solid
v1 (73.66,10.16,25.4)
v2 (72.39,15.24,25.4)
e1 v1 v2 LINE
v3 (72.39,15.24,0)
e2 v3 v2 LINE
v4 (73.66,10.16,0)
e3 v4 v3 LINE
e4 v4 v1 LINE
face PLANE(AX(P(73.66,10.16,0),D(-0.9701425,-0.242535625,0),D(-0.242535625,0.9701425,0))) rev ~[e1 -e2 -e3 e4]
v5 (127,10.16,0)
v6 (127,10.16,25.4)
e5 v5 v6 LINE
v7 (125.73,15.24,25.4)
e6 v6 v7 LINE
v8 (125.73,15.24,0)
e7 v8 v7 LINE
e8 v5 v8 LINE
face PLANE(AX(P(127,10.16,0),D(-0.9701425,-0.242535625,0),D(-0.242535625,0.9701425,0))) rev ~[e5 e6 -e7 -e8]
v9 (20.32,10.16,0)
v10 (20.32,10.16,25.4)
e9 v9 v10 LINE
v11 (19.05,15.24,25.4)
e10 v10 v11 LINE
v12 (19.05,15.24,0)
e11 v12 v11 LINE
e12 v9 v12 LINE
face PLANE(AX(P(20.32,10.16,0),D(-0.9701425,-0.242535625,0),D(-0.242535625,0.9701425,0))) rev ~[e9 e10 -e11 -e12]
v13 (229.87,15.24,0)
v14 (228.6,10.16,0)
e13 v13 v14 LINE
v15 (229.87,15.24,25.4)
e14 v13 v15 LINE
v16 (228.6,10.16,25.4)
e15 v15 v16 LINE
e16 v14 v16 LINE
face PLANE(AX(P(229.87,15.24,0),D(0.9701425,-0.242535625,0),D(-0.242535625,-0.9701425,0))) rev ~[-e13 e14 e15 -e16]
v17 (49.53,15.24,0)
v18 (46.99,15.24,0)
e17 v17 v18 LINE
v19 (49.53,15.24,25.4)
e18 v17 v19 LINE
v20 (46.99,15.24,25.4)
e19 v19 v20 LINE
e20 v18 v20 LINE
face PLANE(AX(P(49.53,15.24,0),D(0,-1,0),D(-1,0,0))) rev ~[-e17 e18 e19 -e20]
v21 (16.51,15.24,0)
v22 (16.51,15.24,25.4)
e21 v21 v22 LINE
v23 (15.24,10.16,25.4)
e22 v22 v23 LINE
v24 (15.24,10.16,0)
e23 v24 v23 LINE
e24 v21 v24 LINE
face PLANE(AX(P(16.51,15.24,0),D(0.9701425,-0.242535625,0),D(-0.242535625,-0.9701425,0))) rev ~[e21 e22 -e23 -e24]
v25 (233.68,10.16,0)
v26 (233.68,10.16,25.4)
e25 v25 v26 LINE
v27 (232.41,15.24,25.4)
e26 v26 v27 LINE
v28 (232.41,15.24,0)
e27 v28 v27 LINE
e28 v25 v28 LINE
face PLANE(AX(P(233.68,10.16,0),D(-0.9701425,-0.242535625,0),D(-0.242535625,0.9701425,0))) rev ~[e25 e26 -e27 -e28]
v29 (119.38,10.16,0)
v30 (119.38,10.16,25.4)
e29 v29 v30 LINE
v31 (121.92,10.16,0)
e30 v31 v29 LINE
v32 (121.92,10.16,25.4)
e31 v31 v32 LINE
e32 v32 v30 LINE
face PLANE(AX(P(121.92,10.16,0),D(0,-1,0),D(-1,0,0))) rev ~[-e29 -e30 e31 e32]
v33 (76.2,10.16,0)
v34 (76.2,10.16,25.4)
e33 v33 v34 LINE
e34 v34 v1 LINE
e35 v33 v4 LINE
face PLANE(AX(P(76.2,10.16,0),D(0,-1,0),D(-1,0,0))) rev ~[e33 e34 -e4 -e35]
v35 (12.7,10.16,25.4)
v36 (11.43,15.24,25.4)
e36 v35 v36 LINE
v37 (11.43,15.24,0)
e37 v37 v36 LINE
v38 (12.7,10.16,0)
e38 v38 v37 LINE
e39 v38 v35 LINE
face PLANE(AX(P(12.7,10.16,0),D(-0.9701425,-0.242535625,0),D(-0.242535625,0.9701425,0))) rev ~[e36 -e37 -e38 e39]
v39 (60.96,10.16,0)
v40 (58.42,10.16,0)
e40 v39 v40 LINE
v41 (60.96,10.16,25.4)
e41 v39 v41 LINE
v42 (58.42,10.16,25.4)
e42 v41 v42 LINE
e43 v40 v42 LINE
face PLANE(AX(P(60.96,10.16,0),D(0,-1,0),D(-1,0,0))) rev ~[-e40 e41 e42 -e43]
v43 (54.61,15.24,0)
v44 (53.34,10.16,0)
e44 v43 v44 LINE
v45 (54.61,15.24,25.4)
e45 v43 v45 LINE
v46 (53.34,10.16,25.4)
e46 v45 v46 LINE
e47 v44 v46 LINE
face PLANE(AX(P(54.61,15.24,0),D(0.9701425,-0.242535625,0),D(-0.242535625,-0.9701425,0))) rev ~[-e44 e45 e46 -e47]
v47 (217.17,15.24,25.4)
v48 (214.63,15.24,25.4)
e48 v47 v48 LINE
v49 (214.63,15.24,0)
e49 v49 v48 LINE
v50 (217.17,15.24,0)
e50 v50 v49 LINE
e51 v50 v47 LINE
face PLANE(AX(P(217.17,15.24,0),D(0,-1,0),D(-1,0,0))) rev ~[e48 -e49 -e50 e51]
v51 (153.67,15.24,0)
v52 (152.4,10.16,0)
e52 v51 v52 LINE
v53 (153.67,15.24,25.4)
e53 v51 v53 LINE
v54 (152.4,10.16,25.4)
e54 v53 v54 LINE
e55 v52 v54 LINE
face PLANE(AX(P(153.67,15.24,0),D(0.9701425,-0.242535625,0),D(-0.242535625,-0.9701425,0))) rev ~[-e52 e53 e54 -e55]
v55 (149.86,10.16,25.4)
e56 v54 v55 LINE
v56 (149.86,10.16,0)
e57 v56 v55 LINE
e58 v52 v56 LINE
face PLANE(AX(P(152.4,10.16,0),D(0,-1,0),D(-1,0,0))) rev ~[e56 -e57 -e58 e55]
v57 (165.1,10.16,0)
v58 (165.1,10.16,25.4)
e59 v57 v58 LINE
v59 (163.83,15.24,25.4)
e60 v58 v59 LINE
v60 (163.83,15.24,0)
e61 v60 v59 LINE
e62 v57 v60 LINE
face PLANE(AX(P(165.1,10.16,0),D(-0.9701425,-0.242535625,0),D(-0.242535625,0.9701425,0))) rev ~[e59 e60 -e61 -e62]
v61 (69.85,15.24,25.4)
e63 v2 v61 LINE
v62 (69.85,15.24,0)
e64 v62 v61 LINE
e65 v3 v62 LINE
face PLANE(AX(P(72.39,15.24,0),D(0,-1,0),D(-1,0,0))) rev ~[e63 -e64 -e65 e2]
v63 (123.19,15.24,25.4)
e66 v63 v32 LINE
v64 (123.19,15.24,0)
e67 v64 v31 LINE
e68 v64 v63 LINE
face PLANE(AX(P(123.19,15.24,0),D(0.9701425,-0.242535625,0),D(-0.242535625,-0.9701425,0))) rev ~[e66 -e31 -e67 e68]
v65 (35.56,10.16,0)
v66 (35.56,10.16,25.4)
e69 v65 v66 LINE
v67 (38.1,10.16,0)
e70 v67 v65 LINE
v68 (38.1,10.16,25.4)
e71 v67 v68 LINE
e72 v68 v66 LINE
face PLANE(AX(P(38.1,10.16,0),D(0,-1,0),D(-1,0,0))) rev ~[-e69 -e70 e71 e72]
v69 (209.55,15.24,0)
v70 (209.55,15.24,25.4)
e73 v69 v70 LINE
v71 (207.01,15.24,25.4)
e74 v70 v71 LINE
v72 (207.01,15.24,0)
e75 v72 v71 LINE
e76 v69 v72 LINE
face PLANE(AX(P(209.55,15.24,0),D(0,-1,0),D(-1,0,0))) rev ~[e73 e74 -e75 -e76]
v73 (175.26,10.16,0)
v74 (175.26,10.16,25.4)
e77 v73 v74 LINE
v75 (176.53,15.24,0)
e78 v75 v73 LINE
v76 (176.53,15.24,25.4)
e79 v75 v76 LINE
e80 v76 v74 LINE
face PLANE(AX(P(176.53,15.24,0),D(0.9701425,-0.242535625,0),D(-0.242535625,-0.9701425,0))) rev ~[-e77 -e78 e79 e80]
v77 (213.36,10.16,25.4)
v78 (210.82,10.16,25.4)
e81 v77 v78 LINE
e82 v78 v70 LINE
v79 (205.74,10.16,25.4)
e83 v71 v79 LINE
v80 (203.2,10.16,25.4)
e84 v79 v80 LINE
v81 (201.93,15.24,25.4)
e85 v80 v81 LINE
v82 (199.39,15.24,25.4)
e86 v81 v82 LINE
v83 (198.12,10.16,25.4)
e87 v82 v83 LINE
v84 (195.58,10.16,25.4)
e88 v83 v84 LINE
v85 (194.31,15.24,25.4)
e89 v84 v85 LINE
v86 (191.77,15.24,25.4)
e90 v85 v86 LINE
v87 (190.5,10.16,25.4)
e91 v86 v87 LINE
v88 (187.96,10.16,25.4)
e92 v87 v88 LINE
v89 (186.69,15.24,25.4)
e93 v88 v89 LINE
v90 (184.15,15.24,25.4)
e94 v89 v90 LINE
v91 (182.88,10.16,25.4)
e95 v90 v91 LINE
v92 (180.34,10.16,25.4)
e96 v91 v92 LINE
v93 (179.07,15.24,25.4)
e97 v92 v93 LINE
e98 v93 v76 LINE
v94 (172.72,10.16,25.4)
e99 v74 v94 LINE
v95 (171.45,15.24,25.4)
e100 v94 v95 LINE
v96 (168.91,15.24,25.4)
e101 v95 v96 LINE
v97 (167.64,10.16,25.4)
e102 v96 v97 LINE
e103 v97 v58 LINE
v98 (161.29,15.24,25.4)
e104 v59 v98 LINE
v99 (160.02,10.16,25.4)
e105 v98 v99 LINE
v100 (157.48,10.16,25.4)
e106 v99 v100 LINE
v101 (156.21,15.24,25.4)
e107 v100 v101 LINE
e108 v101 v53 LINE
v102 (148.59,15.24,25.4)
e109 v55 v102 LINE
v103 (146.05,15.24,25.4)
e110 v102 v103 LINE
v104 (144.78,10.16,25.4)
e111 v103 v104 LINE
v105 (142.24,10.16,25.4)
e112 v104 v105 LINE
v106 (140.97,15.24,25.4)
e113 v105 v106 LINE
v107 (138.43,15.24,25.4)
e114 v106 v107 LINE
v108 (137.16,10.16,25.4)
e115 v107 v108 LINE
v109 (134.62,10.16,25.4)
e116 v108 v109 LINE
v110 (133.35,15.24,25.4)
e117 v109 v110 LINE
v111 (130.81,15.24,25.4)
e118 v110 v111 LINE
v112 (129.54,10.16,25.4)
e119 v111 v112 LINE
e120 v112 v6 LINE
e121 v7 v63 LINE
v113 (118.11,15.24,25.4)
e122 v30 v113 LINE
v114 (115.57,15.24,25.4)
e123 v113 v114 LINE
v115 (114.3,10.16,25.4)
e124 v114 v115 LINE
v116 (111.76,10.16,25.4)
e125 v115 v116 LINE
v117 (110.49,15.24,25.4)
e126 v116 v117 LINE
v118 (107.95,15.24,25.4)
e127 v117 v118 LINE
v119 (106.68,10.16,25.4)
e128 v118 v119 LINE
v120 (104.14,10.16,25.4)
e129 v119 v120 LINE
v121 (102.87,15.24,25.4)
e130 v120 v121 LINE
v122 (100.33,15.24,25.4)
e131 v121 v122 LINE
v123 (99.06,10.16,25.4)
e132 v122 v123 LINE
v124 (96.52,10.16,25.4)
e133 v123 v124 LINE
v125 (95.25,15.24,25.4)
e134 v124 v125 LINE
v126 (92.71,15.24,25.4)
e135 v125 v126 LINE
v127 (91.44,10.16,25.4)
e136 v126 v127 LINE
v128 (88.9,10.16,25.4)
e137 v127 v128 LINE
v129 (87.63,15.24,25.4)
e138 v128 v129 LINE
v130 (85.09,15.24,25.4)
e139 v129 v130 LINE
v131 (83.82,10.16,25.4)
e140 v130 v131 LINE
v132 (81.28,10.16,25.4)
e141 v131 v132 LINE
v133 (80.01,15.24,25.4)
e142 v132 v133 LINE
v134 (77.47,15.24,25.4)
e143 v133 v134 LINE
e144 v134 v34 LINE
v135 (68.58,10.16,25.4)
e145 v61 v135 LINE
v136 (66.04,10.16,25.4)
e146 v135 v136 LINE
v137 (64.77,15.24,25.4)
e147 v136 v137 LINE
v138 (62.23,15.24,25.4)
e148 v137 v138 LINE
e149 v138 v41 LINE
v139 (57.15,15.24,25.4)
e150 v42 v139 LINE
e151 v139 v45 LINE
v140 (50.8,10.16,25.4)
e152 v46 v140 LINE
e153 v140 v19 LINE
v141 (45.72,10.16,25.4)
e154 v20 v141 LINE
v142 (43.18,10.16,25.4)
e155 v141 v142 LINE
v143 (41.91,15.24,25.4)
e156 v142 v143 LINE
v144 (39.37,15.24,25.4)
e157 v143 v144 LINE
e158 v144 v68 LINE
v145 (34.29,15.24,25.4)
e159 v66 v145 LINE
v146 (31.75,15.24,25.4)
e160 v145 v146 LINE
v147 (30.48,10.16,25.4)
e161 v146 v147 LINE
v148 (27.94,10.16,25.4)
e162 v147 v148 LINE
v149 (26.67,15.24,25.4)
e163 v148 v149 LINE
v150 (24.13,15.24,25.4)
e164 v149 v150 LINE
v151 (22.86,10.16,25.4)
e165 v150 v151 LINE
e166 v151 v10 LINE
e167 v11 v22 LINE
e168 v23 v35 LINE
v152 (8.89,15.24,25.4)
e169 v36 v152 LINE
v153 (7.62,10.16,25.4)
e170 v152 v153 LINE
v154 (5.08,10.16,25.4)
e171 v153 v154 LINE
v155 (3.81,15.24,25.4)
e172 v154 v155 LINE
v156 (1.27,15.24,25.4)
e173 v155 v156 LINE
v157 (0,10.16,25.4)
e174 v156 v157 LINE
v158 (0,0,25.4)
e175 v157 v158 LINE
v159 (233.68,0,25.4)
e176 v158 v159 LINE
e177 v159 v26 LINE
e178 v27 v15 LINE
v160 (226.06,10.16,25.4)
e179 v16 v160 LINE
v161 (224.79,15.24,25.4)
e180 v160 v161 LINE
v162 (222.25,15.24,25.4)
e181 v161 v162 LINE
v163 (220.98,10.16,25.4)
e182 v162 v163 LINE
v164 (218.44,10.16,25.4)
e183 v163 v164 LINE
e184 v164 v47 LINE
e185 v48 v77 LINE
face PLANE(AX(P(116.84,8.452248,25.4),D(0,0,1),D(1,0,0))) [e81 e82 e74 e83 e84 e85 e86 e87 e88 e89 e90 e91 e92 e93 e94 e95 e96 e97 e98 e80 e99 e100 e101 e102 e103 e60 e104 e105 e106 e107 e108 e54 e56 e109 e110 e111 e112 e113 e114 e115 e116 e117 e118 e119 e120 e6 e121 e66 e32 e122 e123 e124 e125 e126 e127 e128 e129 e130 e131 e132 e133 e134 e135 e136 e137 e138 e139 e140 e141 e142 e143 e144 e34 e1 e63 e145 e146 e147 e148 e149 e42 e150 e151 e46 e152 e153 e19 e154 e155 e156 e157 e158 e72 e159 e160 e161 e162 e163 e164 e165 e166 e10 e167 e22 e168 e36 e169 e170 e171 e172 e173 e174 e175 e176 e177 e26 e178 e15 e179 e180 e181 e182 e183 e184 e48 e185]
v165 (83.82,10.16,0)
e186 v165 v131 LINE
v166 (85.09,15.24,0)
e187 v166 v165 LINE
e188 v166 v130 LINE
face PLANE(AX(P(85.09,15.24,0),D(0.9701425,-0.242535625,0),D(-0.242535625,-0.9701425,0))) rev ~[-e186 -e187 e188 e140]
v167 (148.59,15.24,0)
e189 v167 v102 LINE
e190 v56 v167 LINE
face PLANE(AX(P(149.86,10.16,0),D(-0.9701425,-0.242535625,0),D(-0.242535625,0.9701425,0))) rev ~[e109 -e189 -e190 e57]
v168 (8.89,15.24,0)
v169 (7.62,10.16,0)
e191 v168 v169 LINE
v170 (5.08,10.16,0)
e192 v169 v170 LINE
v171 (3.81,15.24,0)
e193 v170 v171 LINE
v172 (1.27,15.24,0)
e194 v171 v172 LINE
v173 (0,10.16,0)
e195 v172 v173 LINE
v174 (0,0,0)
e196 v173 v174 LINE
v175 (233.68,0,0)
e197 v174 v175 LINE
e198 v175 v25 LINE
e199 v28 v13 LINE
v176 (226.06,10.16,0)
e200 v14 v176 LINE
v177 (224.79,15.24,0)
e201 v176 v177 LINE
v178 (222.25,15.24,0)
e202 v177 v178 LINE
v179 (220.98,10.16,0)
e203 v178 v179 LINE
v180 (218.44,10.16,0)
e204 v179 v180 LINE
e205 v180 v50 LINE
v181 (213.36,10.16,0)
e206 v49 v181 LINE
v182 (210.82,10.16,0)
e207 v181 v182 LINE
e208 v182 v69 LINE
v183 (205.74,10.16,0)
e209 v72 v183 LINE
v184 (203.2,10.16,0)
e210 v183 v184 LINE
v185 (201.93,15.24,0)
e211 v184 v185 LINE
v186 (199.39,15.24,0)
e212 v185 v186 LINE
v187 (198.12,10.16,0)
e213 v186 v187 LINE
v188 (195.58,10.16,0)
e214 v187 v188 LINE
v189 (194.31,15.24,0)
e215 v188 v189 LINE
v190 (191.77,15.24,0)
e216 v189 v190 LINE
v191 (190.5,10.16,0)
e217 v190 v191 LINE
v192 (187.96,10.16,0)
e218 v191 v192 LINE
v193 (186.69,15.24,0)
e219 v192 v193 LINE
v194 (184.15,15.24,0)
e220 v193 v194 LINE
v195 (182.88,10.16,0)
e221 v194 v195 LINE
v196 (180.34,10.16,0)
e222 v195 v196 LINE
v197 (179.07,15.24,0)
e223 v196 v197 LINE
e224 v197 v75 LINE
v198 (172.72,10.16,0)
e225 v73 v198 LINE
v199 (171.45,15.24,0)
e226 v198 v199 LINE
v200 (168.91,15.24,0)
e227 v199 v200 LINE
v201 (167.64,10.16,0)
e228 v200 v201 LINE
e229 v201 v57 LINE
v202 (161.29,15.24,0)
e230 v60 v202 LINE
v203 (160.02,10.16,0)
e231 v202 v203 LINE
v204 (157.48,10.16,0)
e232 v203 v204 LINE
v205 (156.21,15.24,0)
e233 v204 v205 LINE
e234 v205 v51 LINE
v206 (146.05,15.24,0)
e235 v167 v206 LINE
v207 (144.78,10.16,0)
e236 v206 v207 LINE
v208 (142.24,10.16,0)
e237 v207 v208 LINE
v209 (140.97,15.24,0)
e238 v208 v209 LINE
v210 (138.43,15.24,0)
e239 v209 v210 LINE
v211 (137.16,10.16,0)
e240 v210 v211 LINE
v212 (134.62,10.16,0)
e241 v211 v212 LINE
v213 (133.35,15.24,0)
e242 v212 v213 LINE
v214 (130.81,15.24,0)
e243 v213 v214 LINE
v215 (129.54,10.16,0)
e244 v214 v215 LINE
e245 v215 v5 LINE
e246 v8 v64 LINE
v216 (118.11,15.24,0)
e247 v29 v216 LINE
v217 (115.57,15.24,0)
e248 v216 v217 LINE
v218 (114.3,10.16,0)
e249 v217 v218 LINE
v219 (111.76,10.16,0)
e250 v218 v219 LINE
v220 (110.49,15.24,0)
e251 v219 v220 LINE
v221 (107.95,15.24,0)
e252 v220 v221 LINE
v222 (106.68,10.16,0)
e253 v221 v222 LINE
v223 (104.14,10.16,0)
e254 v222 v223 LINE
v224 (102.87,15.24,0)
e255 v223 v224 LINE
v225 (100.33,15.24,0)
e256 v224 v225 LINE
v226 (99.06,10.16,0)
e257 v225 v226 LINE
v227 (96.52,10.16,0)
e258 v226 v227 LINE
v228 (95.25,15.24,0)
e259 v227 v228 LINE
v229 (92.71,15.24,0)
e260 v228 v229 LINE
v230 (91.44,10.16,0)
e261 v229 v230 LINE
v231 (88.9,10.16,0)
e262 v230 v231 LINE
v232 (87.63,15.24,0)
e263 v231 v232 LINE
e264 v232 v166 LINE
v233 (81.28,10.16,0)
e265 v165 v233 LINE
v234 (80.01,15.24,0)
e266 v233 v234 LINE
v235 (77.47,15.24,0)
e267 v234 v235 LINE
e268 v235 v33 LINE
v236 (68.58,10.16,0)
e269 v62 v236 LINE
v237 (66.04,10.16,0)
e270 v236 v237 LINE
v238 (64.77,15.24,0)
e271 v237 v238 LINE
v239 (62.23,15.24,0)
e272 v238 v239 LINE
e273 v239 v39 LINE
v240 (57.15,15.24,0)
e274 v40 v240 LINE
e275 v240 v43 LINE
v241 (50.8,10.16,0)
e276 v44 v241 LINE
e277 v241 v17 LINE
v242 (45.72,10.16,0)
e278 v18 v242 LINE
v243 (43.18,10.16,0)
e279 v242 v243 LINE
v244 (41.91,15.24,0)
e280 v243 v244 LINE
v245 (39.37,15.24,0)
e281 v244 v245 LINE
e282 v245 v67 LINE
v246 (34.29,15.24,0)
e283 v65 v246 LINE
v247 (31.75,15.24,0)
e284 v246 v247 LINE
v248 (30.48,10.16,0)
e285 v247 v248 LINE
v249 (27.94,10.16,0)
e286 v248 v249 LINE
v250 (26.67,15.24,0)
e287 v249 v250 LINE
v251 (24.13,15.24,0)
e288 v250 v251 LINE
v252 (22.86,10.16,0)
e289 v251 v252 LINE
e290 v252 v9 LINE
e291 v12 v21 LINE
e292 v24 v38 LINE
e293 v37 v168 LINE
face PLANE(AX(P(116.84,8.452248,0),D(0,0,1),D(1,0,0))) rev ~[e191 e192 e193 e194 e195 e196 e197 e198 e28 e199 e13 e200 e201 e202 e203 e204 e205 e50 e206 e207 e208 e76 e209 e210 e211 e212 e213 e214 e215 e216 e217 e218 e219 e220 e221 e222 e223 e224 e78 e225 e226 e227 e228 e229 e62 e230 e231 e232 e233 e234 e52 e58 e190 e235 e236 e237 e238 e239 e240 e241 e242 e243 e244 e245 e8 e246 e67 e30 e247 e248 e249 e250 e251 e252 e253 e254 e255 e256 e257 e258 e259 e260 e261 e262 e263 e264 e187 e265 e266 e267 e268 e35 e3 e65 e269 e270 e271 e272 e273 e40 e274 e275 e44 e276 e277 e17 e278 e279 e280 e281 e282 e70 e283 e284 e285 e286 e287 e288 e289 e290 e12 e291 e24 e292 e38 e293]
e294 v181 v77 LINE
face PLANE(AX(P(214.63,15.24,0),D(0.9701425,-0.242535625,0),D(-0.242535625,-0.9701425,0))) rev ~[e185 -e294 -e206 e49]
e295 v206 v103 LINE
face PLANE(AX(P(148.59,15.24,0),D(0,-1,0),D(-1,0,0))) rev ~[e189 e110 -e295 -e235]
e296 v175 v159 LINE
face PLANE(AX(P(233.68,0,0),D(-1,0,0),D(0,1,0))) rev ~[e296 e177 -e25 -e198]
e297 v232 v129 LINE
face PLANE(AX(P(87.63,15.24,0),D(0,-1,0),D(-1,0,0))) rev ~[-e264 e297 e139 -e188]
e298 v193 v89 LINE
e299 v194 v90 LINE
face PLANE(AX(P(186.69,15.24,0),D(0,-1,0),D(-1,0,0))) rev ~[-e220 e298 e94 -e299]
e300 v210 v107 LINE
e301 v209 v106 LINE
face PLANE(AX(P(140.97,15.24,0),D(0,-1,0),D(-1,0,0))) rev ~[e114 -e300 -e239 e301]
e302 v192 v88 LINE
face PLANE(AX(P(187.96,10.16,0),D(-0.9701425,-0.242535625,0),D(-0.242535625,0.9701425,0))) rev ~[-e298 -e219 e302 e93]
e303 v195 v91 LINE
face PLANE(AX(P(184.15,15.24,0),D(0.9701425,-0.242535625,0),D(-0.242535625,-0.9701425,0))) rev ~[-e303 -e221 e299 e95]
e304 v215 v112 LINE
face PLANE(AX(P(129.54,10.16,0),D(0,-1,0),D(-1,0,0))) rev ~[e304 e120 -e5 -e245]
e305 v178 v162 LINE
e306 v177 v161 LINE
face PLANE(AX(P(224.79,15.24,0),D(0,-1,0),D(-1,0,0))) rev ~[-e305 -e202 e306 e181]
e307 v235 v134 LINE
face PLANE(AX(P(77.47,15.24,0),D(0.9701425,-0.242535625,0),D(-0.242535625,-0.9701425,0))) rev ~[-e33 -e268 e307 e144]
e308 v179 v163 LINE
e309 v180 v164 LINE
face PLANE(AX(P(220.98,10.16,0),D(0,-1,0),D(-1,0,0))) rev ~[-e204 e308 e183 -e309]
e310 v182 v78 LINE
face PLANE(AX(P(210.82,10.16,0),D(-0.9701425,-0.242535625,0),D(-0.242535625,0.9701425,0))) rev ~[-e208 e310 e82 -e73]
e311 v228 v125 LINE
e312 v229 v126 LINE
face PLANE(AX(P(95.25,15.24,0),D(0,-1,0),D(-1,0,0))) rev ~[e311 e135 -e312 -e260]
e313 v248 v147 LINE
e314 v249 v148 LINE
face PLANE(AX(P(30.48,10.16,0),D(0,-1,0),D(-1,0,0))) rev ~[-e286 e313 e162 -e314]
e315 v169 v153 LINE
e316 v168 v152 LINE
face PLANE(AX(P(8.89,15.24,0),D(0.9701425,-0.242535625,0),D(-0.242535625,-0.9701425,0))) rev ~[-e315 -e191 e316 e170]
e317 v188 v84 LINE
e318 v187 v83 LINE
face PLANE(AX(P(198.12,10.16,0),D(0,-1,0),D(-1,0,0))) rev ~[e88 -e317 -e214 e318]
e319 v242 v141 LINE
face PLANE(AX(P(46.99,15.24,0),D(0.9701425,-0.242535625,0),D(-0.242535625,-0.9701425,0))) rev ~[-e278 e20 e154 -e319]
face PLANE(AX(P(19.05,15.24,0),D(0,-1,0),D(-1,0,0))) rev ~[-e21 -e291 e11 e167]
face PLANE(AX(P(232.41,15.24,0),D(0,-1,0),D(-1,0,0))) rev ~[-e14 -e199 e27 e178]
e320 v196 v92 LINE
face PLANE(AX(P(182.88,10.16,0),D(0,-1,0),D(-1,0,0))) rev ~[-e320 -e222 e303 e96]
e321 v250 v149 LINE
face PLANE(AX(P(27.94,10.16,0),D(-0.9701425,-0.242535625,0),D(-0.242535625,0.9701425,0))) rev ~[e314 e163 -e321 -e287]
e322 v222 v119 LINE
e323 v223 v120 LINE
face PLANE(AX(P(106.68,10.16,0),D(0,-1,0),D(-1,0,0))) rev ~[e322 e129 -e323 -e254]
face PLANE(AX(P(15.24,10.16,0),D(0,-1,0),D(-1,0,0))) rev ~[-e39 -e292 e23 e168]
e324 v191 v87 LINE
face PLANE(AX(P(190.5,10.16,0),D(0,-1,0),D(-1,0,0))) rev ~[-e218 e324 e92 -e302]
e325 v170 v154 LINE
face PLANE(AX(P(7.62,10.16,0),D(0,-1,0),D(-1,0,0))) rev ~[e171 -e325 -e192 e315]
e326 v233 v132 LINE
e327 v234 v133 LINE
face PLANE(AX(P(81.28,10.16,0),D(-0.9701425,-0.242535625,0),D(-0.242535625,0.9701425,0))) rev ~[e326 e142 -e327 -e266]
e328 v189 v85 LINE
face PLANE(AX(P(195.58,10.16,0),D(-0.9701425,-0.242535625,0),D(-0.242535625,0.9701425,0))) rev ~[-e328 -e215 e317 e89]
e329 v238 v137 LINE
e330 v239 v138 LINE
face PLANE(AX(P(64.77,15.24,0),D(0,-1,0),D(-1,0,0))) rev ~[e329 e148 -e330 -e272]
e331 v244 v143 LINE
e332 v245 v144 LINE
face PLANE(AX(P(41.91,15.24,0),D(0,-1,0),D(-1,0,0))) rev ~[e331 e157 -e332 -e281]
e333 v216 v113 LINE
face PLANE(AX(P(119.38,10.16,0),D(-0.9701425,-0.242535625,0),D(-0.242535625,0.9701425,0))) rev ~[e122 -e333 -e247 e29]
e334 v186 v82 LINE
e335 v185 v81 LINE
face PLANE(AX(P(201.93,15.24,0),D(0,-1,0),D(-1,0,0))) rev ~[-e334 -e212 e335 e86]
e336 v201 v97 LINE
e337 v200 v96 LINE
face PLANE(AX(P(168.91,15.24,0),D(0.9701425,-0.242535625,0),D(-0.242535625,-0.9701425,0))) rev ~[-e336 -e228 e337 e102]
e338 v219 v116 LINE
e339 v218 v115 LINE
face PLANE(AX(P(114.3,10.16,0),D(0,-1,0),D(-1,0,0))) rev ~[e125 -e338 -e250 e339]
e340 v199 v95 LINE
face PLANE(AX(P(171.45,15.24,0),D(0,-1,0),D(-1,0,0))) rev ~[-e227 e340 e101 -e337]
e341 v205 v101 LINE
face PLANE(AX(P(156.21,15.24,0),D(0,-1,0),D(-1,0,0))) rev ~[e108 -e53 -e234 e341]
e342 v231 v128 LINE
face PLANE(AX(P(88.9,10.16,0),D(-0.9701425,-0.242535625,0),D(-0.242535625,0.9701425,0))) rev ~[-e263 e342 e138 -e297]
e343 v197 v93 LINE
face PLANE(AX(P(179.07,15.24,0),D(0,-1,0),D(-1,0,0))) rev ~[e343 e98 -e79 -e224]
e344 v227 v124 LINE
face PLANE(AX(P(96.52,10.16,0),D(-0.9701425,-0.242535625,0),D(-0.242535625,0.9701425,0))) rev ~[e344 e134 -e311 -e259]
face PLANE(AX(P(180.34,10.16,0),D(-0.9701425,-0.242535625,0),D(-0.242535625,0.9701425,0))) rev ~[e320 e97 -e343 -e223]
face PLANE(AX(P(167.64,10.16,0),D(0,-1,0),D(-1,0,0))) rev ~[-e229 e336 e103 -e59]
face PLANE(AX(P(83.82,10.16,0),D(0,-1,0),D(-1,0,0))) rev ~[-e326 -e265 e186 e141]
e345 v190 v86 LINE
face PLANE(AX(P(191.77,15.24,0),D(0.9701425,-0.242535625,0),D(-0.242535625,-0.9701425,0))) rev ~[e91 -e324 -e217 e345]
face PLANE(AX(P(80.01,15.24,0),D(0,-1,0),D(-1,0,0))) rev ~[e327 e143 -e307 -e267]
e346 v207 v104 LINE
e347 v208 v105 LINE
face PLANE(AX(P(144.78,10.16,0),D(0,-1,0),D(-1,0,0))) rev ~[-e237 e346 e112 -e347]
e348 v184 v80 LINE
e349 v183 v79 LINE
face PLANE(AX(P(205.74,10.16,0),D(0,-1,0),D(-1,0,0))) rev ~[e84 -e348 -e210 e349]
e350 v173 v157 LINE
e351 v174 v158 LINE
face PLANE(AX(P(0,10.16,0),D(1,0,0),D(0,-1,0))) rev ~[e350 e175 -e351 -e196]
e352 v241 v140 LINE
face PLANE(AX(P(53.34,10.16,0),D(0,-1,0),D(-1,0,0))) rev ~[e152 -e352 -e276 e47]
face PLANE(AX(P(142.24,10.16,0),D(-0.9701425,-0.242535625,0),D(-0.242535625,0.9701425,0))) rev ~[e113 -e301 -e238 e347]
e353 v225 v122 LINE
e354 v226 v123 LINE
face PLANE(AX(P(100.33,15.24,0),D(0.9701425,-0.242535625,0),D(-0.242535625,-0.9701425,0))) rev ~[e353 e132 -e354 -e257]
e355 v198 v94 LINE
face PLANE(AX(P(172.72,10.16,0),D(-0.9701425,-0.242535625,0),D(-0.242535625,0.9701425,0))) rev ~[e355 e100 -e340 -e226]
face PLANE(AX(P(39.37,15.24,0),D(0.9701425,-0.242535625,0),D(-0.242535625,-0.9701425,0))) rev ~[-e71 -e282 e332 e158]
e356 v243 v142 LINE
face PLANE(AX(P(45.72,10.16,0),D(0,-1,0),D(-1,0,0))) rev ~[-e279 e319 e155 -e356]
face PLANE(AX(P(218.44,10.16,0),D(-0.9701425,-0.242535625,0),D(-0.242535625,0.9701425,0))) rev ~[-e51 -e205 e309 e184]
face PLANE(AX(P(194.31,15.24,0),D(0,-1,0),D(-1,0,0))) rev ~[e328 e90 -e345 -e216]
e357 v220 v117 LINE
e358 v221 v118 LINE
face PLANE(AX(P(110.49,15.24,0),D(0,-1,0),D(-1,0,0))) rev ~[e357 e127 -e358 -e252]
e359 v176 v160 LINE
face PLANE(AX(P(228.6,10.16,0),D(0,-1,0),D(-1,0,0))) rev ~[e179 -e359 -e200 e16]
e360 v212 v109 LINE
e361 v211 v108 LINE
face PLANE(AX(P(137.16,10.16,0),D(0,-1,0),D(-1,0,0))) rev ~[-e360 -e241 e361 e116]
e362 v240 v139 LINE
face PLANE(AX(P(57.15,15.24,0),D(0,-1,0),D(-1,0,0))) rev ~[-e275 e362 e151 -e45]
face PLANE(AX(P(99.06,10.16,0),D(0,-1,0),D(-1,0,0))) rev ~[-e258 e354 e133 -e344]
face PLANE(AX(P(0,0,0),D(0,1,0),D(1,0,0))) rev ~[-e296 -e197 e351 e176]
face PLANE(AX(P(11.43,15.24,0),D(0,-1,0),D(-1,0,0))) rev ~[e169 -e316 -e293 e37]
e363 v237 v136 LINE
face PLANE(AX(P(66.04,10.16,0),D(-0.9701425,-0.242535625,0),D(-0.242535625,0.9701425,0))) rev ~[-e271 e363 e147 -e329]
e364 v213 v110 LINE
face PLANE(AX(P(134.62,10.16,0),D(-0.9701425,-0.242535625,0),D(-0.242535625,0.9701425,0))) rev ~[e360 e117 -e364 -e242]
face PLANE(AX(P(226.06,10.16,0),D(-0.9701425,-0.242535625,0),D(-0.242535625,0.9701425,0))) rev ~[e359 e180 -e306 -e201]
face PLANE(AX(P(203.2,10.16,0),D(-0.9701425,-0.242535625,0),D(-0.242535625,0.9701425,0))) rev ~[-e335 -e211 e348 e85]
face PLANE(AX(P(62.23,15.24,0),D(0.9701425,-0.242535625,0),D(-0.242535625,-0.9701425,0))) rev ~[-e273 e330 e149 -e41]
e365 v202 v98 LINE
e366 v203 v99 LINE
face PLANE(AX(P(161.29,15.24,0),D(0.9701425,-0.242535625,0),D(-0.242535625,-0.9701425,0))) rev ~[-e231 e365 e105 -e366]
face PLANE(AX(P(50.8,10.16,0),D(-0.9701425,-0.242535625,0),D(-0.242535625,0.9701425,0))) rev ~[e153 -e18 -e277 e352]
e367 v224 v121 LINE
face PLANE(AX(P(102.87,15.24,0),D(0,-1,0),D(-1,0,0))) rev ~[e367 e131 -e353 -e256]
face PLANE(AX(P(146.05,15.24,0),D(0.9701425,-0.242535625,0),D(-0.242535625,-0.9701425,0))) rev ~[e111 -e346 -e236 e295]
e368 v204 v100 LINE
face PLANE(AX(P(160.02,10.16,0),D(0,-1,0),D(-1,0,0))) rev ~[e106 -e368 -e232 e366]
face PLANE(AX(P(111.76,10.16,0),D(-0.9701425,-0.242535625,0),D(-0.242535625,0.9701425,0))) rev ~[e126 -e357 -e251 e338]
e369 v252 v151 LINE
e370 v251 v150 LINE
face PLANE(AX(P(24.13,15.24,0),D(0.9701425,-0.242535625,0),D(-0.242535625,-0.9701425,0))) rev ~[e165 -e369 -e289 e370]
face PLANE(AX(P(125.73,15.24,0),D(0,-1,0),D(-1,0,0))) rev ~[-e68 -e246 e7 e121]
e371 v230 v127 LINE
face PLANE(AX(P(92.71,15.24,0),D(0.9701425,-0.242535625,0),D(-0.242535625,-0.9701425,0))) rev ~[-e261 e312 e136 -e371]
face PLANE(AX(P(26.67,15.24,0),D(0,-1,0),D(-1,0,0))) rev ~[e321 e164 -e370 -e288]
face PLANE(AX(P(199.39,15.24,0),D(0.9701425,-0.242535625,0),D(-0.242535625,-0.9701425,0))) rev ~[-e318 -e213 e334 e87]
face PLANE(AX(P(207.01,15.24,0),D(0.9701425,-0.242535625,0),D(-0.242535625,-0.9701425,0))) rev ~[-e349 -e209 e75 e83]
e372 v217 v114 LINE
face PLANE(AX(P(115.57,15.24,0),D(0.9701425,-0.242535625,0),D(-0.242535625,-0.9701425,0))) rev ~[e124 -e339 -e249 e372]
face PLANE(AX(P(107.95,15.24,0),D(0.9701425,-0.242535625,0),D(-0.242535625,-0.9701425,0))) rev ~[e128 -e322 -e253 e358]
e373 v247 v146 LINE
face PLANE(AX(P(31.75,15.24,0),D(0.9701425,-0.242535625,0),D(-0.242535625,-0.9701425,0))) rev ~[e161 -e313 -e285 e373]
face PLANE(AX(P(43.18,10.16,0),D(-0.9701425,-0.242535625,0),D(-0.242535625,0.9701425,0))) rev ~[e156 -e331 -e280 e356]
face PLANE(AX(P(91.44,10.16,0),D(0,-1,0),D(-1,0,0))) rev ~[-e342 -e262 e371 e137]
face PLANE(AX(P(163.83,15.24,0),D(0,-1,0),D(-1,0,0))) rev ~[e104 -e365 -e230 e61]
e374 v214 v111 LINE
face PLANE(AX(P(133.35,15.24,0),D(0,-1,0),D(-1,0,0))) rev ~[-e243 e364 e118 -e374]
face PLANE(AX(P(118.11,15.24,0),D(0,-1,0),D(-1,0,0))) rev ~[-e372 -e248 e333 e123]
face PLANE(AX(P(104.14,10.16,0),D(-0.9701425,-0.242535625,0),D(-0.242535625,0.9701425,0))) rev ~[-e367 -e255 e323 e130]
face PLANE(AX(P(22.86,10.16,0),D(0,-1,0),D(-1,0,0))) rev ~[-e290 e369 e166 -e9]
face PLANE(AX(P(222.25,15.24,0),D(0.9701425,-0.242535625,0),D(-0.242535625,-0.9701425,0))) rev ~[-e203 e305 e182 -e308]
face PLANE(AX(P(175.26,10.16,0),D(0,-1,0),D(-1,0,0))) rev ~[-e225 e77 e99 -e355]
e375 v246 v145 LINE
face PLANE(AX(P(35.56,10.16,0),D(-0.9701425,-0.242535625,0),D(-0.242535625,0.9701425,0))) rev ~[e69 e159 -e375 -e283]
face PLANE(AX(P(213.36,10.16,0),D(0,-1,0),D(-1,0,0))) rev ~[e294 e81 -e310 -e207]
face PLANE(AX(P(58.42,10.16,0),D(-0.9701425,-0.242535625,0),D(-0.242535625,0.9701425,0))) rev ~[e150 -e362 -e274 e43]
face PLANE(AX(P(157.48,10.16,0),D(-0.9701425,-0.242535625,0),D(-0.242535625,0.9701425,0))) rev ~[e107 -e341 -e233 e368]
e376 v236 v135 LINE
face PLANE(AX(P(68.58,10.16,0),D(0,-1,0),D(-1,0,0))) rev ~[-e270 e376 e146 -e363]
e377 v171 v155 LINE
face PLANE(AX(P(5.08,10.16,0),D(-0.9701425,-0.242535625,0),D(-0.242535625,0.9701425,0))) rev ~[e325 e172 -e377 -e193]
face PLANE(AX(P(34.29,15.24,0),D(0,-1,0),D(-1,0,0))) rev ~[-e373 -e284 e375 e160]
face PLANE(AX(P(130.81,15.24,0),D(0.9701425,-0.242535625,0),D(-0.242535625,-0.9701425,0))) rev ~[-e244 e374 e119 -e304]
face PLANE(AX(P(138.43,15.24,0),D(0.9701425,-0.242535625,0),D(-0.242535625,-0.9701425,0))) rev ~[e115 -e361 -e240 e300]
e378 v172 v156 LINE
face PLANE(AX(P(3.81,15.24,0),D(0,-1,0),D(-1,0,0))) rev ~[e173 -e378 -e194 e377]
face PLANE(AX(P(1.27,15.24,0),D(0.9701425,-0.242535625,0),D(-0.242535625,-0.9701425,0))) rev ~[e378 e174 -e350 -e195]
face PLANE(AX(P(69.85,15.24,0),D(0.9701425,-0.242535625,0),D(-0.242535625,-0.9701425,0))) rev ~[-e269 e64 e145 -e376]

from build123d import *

# Parameters (mm, degrees)
BOSS_EXTRUDE1_DEPTH = 25.4


with BuildPart() as part:
    # Sketch1 → Boss-Extrude1 (new body)
    with BuildSketch(Plane.XY):
        Polygon((0, 0), (233.68, 0), (233.68, 10.16), (232.41, 15.24), (229.87, 15.24), (228.6, 10.16), (226.06, 10.16), (224.79, 15.24), (222.25, 15.24), (220.98, 10.16), (218.44, 10.16), (217.17, 15.24), (214.63, 15.24), (213.36, 10.16), (210.82, 10.16), (209.55, 15.24), (207.01, 15.24), (205.74, 10.16), (203.2, 10.16), (201.93, 15.24), (199.39, 15.24), (198.12, 10.16), (195.58, 10.16), (194.31, 15.24), (191.77, 15.24), (190.5, 10.16), (187.96, 10.16), (186.69, 15.24), (184.15, 15.24), (182.88, 10.16), (180.34, 10.16), (179.07, 15.24), (176.53, 15.24), (175.26, 10.16), (172.72, 10.16), (171.45, 15.24), (168.91, 15.24), (167.64, 10.16), (165.1, 10.16), (163.83, 15.24), (161.29, 15.24), (160.02, 10.16), (157.48, 10.16), (156.21, 15.24), (153.67, 15.24), (152.4, 10.16), (149.86, 10.16), (148.59, 15.24), (146.05, 15.24), (144.78, 10.16), (142.24, 10.16), (140.97, 15.24), (138.43, 15.24), (137.16, 10.16), (134.62, 10.16), (133.35, 15.24), (130.81, 15.24), (129.54, 10.16), (127, 10.16), (125.73, 15.24), (123.19, 15.24), (121.92, 10.16), (119.38, 10.16), (118.11, 15.24), (115.57, 15.24), (114.3, 10.16), (111.76, 10.16), (110.49, 15.24), (107.95, 15.24), (106.68, 10.16), (104.14, 10.16), (102.87, 15.24), (100.33, 15.24), (99.06, 10.16), (96.52, 10.16), (95.25, 15.24), (92.71, 15.24), (91.44, 10.16), (88.9, 10.16), (87.63, 15.24), (85.09, 15.24), (83.82, 10.16), (81.28, 10.16), (80.01, 15.24), (77.47, 15.24), (76.2, 10.16), (73.66, 10.16), (72.39, 15.24), (69.85, 15.24), (68.58, 10.16), (66.04, 10.16), (64.77, 15.24), (62.23, 15.24), (60.96, 10.16), (58.42, 10.16), (57.15, 15.24), (54.61, 15.24), (53.34, 10.16), (50.8, 10.16), (49.53, 15.24), (46.99, 15.24), (45.72, 10.16), (43.18, 10.16), (41.91, 15.24), (39.37, 15.24), (38.1, 10.16), (35.56, 10.16), (34.29, 15.24), (31.75, 15.24), (30.48, 10.16), (27.94, 10.16), (26.67, 15.24), (24.13, 15.24), (22.86, 10.16), (20.32, 10.16), (19.05, 15.24), (16.51, 15.24), (15.24, 10.16), (12.7, 10.16), (11.43, 15.24), (8.89, 15.24), (7.62, 10.16), (5.08, 10.16), (3.81, 15.24), (1.27, 15.24), (0, 10.16), align=None)
    extrude(amount=BOSS_EXTRUDE1_DEPTH)


solid = part.part
